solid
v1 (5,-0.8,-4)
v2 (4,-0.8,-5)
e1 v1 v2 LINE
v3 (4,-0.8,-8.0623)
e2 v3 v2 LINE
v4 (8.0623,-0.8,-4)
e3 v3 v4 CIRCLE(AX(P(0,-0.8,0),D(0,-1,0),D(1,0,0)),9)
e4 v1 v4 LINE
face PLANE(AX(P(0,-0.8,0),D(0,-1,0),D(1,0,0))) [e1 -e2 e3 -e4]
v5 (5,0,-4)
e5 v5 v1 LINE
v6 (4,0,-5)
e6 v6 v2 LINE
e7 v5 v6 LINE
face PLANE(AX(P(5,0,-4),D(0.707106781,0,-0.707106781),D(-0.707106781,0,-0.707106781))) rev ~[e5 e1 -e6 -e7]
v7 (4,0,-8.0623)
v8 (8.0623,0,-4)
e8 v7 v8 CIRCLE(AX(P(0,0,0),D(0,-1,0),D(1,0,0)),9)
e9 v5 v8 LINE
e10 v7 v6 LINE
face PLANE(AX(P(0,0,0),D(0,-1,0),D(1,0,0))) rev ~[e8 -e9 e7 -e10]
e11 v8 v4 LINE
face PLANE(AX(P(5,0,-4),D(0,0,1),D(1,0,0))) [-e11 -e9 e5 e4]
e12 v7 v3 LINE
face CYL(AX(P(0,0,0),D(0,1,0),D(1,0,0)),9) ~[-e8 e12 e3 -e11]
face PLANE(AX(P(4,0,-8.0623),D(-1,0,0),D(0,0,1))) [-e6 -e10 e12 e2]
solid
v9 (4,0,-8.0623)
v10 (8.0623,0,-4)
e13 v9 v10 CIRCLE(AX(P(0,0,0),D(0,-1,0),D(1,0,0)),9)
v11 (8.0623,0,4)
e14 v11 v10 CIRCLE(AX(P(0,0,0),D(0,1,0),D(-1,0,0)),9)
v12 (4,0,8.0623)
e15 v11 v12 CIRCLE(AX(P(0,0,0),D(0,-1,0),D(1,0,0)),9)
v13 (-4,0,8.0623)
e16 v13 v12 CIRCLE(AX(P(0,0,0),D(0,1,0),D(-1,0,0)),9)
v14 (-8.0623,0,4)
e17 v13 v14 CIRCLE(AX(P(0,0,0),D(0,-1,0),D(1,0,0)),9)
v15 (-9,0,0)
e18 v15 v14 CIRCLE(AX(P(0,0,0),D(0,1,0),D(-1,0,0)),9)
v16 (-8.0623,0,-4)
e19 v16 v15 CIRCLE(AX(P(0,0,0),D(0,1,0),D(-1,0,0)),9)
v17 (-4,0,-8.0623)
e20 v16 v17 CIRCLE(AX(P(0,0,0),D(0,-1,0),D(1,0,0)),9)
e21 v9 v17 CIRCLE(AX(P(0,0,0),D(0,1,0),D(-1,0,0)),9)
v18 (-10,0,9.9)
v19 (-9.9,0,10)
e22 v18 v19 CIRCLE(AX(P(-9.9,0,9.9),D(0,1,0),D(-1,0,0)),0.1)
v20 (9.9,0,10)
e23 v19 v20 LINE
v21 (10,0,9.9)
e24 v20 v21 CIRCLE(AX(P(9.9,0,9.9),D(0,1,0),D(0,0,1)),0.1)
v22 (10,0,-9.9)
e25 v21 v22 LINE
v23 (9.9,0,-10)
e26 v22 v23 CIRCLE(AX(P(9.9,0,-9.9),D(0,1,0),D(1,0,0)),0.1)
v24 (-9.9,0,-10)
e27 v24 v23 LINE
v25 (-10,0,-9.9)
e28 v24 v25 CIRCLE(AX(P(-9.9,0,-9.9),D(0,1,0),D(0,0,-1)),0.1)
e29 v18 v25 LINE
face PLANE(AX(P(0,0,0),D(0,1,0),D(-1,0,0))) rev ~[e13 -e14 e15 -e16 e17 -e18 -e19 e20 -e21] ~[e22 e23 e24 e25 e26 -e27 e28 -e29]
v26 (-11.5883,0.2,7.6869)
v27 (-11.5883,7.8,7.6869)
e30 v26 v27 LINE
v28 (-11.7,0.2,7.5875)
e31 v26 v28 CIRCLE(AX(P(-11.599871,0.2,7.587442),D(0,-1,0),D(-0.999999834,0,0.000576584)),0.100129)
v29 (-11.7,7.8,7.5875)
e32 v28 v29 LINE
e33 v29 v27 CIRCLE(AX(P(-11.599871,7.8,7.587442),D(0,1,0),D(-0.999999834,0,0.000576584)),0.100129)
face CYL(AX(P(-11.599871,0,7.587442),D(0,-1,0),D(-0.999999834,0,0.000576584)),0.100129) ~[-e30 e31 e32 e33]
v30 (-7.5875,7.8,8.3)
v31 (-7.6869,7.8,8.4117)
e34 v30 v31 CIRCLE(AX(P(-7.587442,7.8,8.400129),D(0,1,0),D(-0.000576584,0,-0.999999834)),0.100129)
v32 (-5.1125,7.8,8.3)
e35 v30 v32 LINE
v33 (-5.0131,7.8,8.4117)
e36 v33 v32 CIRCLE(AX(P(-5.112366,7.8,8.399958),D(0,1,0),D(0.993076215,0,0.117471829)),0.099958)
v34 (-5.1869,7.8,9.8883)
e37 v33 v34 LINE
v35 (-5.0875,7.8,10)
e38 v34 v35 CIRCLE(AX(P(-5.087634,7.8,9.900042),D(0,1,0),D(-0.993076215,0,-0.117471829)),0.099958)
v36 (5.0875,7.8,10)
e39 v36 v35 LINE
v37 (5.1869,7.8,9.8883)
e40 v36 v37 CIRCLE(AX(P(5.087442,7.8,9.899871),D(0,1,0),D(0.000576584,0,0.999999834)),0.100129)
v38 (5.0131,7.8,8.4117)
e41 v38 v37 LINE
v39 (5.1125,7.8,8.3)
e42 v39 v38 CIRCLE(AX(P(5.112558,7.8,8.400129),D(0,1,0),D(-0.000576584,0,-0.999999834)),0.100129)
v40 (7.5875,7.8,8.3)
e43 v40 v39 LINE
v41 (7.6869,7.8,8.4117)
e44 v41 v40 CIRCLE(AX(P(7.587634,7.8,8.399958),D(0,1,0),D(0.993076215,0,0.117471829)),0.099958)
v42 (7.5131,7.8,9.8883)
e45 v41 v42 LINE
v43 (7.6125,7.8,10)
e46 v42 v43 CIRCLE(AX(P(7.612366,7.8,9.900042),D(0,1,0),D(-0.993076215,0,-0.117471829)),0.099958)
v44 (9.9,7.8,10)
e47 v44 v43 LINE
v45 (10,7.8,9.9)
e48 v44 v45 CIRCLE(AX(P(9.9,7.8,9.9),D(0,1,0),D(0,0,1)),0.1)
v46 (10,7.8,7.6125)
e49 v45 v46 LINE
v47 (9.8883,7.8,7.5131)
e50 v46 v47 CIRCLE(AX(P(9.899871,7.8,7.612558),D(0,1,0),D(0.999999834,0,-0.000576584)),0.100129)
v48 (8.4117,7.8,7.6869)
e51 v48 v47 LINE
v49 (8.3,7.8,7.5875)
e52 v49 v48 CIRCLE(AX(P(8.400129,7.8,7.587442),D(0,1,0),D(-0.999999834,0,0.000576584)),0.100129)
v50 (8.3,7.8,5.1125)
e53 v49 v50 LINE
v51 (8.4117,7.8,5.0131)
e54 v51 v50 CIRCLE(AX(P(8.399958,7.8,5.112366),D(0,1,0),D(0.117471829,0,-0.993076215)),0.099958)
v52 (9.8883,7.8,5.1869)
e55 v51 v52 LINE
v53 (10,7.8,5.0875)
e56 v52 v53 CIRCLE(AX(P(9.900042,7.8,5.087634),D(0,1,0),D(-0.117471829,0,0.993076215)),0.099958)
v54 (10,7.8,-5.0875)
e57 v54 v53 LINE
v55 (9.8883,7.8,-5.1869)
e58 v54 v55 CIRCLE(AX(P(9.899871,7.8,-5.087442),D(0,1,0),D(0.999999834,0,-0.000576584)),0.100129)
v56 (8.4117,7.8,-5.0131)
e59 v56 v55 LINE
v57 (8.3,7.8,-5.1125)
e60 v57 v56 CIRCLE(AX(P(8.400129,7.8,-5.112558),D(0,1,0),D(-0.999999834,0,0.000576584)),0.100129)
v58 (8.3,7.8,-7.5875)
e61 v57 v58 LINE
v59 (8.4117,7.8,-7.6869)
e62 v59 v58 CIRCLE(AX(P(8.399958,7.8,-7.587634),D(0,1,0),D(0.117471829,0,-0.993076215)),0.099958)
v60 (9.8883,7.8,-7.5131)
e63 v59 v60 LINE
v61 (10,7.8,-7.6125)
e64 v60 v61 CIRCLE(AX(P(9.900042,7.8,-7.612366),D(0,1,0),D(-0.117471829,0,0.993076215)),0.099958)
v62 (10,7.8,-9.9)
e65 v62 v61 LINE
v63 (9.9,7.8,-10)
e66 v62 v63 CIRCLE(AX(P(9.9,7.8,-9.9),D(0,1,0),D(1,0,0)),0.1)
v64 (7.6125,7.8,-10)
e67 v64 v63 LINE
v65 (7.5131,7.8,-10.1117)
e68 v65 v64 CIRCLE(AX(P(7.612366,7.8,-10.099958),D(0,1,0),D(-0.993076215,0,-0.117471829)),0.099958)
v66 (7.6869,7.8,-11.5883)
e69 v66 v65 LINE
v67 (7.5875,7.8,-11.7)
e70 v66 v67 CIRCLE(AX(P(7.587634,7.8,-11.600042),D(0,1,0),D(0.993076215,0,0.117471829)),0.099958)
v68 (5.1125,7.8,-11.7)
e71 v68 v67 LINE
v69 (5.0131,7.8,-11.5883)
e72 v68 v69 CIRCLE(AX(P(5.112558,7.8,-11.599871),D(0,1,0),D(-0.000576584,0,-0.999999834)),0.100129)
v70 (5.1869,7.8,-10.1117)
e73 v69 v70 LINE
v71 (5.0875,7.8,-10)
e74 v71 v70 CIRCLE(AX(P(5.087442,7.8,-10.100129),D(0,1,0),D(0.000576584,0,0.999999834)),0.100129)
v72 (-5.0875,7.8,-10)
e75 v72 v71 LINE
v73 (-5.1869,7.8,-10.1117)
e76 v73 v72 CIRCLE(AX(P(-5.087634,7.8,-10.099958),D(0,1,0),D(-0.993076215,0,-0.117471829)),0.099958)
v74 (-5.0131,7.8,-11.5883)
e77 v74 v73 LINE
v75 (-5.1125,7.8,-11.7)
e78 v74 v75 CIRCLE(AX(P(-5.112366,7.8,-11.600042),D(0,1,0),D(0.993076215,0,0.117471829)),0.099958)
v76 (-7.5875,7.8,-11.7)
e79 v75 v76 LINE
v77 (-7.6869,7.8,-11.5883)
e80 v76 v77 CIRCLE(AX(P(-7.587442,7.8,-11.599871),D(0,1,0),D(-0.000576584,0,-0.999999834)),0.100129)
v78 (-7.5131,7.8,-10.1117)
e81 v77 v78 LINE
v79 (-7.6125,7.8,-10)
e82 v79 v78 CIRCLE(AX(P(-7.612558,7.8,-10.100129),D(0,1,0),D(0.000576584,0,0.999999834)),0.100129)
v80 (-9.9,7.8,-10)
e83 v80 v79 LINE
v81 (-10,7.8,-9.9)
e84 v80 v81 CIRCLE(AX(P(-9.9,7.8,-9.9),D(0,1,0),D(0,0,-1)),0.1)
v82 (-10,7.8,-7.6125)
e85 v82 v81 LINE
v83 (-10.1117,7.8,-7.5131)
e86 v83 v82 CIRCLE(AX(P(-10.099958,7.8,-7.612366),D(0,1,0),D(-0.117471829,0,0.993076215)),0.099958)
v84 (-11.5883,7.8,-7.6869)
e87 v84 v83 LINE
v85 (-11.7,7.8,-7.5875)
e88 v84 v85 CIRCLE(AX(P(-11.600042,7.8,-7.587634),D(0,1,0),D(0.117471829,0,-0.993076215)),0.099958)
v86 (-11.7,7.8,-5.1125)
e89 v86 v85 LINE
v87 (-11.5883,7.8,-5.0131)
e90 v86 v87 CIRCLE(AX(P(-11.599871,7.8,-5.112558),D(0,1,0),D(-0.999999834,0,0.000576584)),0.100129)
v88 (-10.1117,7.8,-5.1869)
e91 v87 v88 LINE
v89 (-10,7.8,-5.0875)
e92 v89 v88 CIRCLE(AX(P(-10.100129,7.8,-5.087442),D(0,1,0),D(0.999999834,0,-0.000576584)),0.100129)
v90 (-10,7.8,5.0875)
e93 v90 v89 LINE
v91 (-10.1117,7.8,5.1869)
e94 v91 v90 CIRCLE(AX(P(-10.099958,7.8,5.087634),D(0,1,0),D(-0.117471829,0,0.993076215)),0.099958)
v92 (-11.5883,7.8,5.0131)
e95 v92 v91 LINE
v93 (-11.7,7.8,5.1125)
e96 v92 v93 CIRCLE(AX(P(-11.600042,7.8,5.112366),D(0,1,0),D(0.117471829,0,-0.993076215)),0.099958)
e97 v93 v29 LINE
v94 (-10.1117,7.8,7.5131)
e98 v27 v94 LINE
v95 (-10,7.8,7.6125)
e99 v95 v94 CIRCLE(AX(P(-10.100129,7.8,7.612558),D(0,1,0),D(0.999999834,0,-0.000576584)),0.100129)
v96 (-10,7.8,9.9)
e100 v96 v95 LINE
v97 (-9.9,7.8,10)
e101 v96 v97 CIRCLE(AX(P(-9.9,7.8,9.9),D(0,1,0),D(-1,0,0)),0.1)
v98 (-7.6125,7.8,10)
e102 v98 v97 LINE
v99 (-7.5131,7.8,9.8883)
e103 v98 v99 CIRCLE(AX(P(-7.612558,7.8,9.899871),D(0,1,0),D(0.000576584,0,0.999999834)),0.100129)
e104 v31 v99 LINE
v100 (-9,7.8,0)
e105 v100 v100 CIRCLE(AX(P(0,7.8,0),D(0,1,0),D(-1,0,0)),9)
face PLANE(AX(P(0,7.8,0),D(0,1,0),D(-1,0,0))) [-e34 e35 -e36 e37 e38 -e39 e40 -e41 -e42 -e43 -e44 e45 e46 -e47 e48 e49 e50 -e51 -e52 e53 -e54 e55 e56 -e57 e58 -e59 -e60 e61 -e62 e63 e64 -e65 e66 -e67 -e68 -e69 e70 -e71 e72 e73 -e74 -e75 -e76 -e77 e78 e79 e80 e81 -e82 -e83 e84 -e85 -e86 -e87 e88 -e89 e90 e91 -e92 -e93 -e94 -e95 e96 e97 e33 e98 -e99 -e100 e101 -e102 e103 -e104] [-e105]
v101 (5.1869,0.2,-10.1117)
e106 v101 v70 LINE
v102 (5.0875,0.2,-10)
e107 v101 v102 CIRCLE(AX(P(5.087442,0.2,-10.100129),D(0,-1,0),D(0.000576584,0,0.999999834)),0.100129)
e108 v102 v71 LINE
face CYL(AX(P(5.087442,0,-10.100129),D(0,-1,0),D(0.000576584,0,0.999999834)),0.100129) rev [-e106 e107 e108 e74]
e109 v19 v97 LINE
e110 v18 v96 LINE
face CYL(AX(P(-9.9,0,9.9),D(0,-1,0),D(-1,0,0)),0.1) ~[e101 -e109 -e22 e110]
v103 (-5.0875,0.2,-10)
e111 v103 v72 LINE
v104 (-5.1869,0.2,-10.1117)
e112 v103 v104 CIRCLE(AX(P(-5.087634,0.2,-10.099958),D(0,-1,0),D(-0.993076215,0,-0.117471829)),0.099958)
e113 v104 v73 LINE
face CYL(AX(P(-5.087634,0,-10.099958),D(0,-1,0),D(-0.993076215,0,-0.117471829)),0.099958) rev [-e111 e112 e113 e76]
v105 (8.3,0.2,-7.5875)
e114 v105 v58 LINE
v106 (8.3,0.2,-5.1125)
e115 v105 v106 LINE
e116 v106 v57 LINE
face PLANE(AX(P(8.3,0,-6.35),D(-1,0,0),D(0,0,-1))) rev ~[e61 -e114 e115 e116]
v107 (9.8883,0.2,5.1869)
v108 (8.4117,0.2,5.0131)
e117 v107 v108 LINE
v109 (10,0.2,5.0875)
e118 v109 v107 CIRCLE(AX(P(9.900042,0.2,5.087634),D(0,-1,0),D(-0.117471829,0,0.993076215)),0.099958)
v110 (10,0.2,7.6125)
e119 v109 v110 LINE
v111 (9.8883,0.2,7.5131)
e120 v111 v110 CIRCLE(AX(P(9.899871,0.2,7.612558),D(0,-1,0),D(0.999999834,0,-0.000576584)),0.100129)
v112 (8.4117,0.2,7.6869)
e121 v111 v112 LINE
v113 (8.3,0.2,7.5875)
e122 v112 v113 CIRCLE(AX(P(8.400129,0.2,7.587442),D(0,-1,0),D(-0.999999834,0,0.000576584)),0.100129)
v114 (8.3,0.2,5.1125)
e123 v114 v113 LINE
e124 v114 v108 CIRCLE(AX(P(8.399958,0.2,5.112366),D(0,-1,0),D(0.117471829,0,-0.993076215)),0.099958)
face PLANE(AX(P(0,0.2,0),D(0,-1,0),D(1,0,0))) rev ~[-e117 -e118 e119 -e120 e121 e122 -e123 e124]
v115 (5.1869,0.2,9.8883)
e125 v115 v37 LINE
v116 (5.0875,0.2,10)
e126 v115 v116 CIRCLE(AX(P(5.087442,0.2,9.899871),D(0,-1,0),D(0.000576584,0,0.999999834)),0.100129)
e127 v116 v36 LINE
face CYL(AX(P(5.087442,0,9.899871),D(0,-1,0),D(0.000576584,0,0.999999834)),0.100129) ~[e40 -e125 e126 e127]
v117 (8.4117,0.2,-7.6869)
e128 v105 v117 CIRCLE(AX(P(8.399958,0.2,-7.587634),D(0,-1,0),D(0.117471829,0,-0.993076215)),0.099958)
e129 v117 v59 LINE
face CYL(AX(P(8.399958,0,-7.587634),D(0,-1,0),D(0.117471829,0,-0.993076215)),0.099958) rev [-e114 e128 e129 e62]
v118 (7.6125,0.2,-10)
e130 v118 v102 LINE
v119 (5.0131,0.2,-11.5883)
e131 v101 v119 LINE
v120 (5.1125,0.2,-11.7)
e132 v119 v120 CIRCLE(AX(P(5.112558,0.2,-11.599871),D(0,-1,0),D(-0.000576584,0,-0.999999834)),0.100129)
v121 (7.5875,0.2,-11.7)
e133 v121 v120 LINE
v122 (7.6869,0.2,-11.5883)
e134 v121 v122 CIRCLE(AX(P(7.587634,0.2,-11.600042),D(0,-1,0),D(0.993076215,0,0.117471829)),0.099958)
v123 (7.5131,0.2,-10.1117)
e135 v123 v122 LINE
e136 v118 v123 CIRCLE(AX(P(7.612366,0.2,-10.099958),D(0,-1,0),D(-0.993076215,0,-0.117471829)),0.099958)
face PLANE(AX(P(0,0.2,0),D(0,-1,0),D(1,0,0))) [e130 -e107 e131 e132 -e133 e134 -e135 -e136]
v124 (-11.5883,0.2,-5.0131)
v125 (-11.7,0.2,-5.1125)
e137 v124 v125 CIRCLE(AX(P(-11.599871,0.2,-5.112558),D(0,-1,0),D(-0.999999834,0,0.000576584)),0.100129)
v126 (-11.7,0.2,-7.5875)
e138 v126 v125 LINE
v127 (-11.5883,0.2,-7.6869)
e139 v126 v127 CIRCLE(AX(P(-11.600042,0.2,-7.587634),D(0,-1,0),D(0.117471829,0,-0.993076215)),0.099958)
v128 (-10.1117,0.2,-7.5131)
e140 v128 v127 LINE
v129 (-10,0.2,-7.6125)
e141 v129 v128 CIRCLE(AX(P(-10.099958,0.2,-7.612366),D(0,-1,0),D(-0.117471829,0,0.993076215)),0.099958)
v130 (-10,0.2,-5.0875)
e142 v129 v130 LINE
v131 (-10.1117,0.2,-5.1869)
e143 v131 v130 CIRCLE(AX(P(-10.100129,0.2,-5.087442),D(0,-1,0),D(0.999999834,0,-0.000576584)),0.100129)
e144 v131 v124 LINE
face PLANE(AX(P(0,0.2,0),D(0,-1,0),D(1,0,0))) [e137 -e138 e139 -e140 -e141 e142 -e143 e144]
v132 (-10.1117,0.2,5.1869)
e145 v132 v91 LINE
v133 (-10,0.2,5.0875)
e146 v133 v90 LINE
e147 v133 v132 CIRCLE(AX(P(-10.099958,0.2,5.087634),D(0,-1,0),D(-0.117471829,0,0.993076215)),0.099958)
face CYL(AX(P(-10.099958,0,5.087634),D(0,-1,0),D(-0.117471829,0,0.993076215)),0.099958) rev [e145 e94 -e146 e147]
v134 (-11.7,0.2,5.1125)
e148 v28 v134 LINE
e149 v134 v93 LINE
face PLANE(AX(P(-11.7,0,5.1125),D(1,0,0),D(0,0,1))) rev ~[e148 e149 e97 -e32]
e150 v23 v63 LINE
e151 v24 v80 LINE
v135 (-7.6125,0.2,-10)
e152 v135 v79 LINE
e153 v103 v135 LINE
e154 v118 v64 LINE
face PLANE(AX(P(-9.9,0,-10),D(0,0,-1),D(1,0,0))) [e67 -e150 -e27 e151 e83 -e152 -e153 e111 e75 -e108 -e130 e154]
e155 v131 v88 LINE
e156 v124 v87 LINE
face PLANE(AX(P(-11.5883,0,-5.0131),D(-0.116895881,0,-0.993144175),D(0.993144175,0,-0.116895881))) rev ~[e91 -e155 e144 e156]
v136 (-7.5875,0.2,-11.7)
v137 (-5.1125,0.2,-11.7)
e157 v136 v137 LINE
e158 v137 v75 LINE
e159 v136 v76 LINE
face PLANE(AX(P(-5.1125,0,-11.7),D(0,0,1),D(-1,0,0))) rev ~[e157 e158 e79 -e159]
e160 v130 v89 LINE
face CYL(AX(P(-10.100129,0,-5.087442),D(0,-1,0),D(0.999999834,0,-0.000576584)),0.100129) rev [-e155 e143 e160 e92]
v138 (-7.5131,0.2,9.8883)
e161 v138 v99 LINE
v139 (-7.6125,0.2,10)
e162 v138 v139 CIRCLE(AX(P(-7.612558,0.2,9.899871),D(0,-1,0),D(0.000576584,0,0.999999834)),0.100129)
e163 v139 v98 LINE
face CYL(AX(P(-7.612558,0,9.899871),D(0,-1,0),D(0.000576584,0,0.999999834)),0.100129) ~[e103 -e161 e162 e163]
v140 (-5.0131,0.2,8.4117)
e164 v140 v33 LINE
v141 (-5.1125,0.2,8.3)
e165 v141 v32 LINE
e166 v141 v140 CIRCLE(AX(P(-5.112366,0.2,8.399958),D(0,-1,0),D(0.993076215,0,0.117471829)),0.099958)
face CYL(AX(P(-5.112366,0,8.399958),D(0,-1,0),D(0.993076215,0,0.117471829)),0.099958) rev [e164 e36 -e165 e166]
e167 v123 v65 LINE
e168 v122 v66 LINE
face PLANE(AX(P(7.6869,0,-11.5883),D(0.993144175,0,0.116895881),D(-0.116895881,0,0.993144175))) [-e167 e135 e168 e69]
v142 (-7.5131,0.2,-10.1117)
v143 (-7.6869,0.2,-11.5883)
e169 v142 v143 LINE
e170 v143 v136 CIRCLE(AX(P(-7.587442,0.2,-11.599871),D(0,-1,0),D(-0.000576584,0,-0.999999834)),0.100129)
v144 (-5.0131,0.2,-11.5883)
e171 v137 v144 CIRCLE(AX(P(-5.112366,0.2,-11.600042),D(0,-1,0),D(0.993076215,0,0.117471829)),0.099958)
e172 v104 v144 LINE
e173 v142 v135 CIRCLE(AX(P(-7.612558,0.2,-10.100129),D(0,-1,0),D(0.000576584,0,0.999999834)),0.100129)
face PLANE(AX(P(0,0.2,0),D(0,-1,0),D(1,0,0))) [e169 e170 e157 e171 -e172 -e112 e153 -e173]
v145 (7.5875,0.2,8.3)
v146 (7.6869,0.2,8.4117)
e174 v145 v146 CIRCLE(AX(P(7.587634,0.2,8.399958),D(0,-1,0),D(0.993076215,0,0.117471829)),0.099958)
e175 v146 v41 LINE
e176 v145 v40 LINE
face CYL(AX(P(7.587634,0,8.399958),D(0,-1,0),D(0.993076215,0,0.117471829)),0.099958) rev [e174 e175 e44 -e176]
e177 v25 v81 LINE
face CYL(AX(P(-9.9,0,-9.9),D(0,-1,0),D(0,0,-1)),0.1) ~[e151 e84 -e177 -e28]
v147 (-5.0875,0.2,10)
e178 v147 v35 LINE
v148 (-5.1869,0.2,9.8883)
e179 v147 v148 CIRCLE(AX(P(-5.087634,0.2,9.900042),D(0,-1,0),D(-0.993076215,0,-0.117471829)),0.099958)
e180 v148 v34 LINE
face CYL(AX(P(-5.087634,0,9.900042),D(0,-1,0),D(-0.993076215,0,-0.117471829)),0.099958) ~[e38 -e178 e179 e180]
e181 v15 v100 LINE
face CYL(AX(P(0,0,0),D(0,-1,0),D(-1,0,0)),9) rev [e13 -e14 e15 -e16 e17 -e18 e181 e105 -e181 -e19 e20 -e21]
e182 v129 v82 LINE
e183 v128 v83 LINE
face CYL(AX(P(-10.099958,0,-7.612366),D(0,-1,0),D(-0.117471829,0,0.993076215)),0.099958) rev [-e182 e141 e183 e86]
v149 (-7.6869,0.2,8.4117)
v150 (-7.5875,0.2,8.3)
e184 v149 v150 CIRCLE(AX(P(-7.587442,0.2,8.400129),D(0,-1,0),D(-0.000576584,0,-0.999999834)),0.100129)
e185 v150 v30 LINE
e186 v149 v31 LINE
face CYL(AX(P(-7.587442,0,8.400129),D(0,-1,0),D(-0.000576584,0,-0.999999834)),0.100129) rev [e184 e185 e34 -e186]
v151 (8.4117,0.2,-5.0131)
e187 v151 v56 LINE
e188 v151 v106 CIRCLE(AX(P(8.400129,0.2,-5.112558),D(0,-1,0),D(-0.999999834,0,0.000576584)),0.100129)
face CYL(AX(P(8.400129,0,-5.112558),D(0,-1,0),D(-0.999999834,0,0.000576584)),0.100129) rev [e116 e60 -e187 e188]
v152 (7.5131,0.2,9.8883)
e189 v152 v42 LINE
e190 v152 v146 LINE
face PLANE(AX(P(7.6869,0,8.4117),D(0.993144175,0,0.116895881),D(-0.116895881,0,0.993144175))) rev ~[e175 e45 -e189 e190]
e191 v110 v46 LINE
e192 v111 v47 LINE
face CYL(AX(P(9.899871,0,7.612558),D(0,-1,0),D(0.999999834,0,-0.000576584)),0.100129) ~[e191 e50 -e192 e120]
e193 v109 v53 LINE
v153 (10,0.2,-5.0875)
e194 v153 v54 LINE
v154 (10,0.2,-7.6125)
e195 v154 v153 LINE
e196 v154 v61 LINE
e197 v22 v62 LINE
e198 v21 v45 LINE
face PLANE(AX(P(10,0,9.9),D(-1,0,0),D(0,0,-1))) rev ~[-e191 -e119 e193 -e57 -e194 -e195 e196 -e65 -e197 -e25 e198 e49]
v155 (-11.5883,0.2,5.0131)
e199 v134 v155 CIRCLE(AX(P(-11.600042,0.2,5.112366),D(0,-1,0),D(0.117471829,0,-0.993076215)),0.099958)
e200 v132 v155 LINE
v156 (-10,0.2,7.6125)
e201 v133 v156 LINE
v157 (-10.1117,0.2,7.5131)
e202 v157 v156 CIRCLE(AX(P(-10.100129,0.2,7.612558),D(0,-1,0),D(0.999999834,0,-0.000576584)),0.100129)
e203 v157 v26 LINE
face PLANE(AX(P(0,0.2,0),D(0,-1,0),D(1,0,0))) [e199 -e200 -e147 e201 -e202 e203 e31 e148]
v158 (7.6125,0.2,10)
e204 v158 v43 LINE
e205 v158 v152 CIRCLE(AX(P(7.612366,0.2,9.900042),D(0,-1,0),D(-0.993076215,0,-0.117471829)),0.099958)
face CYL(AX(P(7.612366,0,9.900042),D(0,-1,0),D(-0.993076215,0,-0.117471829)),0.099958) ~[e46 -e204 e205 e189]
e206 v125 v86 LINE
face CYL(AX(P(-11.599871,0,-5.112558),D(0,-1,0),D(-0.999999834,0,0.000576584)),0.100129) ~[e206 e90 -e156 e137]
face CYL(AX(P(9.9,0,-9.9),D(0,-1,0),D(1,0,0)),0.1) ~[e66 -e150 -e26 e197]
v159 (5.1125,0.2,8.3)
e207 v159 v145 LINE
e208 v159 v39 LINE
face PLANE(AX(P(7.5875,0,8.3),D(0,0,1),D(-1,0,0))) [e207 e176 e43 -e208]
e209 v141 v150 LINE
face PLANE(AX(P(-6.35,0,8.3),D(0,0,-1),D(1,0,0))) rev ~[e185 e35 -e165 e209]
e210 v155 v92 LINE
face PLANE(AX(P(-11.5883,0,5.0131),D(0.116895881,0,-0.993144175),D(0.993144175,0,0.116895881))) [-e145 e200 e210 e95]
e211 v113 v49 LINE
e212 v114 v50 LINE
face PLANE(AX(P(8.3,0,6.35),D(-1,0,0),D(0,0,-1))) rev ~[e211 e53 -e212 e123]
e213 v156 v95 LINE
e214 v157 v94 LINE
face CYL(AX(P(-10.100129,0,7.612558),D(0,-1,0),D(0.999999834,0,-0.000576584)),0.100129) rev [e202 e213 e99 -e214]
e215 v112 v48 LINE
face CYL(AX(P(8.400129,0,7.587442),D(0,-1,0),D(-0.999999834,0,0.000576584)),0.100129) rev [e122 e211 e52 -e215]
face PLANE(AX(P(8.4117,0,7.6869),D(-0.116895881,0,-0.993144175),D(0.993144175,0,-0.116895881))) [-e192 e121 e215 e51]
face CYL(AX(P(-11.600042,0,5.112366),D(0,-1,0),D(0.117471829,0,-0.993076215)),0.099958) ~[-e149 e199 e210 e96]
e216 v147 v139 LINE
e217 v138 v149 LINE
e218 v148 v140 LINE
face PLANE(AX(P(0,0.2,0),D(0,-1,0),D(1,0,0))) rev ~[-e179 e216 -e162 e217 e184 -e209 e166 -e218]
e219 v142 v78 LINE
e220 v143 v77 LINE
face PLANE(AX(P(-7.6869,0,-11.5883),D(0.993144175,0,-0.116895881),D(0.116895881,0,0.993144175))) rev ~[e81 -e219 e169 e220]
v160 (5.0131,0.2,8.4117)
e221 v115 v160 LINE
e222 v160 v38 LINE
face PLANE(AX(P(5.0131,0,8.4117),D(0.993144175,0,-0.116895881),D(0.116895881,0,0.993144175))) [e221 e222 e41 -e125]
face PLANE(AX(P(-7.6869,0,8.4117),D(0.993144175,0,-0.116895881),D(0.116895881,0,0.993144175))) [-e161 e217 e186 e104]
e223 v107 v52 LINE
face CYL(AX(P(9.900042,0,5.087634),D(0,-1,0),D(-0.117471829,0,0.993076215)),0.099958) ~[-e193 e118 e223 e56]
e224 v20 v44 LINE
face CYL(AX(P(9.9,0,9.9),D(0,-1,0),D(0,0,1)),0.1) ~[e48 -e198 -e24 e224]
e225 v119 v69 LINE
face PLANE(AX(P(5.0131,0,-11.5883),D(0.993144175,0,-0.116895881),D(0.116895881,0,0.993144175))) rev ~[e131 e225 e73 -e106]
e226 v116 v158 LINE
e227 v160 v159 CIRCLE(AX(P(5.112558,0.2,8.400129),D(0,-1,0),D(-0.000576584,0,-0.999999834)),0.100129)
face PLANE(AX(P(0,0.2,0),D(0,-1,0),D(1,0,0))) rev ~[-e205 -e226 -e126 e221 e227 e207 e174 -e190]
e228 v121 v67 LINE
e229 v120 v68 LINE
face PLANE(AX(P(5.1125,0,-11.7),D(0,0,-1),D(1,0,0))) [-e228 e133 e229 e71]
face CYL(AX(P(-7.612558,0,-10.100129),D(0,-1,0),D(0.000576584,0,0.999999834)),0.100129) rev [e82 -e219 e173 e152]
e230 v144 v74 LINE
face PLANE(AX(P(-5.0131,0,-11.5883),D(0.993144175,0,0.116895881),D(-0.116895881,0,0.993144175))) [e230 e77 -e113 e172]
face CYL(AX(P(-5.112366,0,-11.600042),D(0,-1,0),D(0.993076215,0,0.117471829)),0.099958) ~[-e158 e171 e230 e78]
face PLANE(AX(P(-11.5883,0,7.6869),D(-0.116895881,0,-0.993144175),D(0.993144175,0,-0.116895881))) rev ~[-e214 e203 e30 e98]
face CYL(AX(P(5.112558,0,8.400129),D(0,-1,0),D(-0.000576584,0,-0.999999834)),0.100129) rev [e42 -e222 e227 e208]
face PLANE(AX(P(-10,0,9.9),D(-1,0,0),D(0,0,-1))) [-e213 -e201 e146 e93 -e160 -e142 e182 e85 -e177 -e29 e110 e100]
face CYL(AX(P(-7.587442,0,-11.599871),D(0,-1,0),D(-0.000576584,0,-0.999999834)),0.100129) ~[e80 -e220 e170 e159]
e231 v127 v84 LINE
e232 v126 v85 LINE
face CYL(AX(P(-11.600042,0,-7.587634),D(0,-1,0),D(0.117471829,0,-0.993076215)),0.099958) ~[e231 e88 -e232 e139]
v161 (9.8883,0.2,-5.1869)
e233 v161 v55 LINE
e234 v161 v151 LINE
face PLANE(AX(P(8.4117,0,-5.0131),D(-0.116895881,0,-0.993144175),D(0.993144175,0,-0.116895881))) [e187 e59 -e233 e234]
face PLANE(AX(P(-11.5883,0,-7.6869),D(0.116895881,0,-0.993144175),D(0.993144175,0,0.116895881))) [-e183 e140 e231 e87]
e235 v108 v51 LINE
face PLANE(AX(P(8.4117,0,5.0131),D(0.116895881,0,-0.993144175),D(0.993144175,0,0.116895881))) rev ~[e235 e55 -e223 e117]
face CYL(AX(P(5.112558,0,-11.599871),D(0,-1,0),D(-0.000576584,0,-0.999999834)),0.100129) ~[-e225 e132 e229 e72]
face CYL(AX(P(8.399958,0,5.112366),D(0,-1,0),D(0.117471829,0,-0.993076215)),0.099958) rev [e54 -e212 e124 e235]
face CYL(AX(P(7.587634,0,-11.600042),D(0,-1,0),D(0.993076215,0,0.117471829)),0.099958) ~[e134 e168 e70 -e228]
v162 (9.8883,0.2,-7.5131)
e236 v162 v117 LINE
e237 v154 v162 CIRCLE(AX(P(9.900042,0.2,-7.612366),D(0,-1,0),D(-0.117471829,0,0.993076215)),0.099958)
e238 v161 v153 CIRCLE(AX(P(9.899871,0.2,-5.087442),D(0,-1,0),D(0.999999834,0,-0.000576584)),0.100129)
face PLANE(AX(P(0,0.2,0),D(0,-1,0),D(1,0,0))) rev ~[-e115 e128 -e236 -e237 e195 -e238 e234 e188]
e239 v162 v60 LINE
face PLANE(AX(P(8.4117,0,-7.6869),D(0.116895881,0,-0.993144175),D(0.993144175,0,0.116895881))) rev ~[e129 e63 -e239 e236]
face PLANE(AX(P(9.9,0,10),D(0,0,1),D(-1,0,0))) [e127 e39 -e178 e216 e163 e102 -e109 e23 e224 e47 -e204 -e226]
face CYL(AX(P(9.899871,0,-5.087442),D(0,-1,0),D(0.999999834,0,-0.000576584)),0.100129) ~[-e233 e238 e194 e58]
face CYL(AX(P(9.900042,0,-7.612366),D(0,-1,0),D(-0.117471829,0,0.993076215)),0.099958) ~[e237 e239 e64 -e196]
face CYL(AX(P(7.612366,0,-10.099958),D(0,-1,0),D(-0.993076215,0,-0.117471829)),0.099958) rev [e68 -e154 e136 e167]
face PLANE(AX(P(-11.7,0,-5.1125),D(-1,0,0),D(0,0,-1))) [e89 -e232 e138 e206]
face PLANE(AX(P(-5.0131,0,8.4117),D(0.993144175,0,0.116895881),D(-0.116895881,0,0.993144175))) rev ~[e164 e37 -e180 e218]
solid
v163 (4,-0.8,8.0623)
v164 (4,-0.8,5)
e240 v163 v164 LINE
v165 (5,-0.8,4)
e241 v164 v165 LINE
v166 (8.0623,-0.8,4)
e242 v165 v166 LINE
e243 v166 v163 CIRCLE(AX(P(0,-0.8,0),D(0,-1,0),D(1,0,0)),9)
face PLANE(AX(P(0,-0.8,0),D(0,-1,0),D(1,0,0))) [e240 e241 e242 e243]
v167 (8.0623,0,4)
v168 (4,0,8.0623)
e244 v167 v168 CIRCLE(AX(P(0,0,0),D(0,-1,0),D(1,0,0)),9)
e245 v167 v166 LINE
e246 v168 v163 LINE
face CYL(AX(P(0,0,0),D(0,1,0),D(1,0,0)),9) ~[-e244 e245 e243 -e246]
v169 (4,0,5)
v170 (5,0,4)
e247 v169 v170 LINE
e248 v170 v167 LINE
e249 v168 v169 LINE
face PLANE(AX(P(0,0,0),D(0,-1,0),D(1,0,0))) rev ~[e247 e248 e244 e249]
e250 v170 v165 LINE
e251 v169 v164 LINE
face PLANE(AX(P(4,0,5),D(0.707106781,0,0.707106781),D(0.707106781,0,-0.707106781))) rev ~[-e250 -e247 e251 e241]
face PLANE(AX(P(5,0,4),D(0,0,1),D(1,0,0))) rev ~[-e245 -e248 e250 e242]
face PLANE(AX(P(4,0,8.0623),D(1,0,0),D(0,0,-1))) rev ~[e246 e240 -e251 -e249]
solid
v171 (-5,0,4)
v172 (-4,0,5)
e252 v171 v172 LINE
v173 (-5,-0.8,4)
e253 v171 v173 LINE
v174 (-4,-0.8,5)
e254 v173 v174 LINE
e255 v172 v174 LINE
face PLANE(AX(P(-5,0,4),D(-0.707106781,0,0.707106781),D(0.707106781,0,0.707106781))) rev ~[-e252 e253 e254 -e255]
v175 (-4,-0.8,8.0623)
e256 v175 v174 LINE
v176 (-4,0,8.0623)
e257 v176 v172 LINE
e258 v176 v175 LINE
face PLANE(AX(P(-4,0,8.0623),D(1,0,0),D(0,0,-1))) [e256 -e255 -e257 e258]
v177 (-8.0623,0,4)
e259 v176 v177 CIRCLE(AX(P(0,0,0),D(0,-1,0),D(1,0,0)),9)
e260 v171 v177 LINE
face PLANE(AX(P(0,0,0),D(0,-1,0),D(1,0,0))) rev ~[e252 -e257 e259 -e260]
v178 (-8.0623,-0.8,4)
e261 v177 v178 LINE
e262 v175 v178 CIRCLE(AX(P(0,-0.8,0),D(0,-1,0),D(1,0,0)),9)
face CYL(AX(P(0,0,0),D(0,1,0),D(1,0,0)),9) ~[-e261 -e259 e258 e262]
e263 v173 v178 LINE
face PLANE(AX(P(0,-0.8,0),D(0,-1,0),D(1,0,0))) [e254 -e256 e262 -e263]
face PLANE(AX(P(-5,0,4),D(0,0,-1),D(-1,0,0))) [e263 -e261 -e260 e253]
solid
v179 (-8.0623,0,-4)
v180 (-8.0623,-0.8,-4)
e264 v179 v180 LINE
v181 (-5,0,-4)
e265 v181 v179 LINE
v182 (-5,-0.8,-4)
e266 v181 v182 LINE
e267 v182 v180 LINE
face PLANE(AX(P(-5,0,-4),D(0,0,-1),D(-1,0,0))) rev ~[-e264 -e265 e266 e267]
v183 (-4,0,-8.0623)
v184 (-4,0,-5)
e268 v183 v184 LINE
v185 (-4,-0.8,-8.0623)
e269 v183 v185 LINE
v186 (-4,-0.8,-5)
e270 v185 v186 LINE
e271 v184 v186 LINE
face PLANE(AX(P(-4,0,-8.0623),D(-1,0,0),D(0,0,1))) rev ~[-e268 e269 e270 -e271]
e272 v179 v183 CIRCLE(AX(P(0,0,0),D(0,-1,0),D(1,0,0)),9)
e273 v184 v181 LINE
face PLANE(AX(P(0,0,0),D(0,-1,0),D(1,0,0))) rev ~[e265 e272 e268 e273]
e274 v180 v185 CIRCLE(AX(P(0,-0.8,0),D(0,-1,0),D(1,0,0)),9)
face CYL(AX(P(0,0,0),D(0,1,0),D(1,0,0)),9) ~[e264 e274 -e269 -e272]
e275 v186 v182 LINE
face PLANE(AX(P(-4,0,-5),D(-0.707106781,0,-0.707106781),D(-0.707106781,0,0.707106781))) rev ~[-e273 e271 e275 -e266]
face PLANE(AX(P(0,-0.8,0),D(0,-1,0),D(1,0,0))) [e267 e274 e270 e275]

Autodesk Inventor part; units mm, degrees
ref_plane "YZ Plane" through (0, 0, 0) normal (1, 0, 0) x (0, 1, 0)
ref_plane "XZ Plane" through (0, 0, 0) normal (0, 1, 0) x (-1, 0, 0)
ref_plane "XY Plane" through (0, 0, 0) normal (0, 0, 1) x (1, 0, 0)
sketch "Boceto1" plane through (0, 0, 0) normal (0, 1, 0) x (-1, 0, 0)
  circle A0 centre (0, 0) radius 9
  line L0 (0, 0) -> (10, -10) construction
  line L1 (10, 10) -> (-10, -10) construction
  line L2 (-10, 9.9) -> (-10, 7.6125)
  line L3 (-8.3, 6.35) -> (-8.3, 5.1125)
  line L4 (-8.4117, 7.6869) -> (-9.8883, 7.5131)
  line L5 (-8.4117, 5.0131) -> (-9.8883, 5.1869)
  line L6 (-8.3, -6.35) -> (-8.3, -5.1125)
  line L7 (-8.4117, -7.6869) -> (-9.8883, -7.5131)
  line L8 (-8.4117, -5.0131) -> (-9.8883, -5.1869)
  line L9 (-7.6869, 8.4117) -> (-7.5131, 9.8883)
  line L10 (-5.0131, 8.4117) -> (-5.1869, 9.8883)
  line L11 (5.0131, 8.4117) -> (5.1869, 9.8883)
  line L12 (6.35, 8.3) -> (5.1125, 8.3)
  line L13 (7.6869, 8.4117) -> (7.5131, 9.8883)
  line L14 (-5.0131, -11.5883) -> (-5.1869, -10.1117)
  line L15 (-7.6869, -11.5883) -> (-7.5131, -10.1117)
  line L16 (-5.1125, -11.7) -> (-7.5875, -11.7)
  line L17 (7.6869, -11.5883) -> (7.5131, -10.1117)
  line L18 (5.1125, -11.7) -> (7.5875, -11.7)
  line L19 (5.0131, -11.5883) -> (5.1869, -10.1117)
  line L20 (11.5883, -5.0131) -> (10.1117, -5.1869)
  line L21 (11.7, -5.1125) -> (11.7, -7.5875)
  line L22 (11.5883, -7.6869) -> (10.1117, -7.5131)
  line L23 (11.5883, 7.6869) -> (10.1117, 7.5131)
  line L24 (11.5883, 5.0131) -> (10.1117, 5.1869)
  line L25 (11.7, 5.1125) -> (11.7, 7.5875)
  line L26 (10, 9.9) -> (10, 7.6125)
  arc A1 (11.7, 7.5875) -> (11.5883, 7.6869) centre (11.6, 7.5875) ccw
  arc A2 (11.5883, 5.0131) -> (11.7, 5.1125) centre (11.6, 5.1125) ccw
  arc A3 (10, 7.6125) -> (10.1117, 7.5131) centre (10.1, 7.6125) ccw
  arc A4 (10.1117, 5.1869) -> (10, 5.0875) centre (10.1, 5.0875) ccw
  line L27 (10, 5.0875) -> (10, -5.0875)
  line L28 (10, -7.6125) -> (10, -9.9)
  arc A5 (10, -5.0875) -> (10.1117, -5.1869) centre (10.1, -5.0875) ccw
  arc A6 (11.7, -5.1125) -> (11.5883, -5.0131) centre (11.6, -5.1125) ccw
  arc A7 (11.5883, -7.6869) -> (11.7, -7.5875) centre (11.6, -7.5875) ccw
  arc A8 (10.1117, -7.5131) -> (10, -7.6125) centre (10.1, -7.6125) ccw
  line L29 (9.9, -10) -> (7.6125, -10)
  line L30 (5.0875, -10) -> (-5.0875, -10)
  line L31 (-7.6125, -10) -> (-9.9, -10)
  arc A9 (5.1869, -10.1117) -> (5.0875, -10) centre (5.0875, -10.1) ccw
  arc A10 (5.0131, -11.5883) -> (5.1125, -11.7) centre (5.1125, -11.6) ccw
  arc A11 (7.5875, -11.7) -> (7.6869, -11.5883) centre (7.5875, -11.6) ccw
  arc A12 (7.6125, -10) -> (7.5131, -10.1117) centre (7.6125, -10.1) ccw
  arc A13 (-5.0875, -10) -> (-5.1869, -10.1117) centre (-5.0875, -10.1) ccw
  arc A14 (-5.1125, -11.7) -> (-5.0131, -11.5883) centre (-5.1125, -11.6) ccw
  arc A15 (-7.6869, -11.5883) -> (-7.5875, -11.7) centre (-7.5875, -11.6) ccw
  arc A16 (-7.5131, -10.1117) -> (-7.6125, -10) centre (-7.6125, -10.1) ccw
  line L32 (-10, -9.9) -> (-10, -7.6125)
  arc A17 (-10, -5.0875) -> (-9.8883, -5.1869) centre (-9.9, -5.0875) ccw
  arc A18 (-8.3, -5.1125) -> (-8.4117, -5.0131) centre (-8.4, -5.1125) ccw
  arc A19 (-8.4117, -7.6869) -> (-8.3, -7.5875) centre (-8.4, -7.5875) ccw
  arc A20 (-9.8883, -7.5131) -> (-10, -7.6125) centre (-9.9, -7.6125) ccw
  line L33 (-8.3, -6.35) -> (-8.3, -7.5875)
  line L34 (7.6125, 10) -> (9.9, 10)
  arc A21 (7.6125, 10) -> (7.5131, 9.8883) centre (7.6125, 9.9) ccw
  arc A22 (7.5875, 8.3) -> (7.6869, 8.4117) centre (7.5875, 8.4) ccw
  arc A23 (5.0131, 8.4117) -> (5.1125, 8.3) centre (5.1125, 8.4) ccw
  line L35 (6.35, 8.3) -> (7.5875, 8.3)
  line L36 (-9.9, 10) -> (-7.6125, 10)
  line L37 (-5.0875, 10) -> (5.0875, 10)
  line L38 (-7.5875, 8.3) -> (-5.1125, 8.3)
  arc A24 (-5.0875, 10) -> (-5.1869, 9.8883) centre (-5.0875, 9.9) ccw
  arc A25 (-5.1125, 8.3) -> (-5.0131, 8.4117) centre (-5.1125, 8.4) ccw
  arc A26 (-7.5131, 9.8883) -> (-7.6125, 10) centre (-7.6125, 9.9) ccw
  arc A27 (-7.6869, 8.4117) -> (-7.5875, 8.3) centre (-7.5875, 8.4) ccw
  line L39 (-10, -5.0875) -> (-10, 5.0875)
  line L40 (-10, 7.5) -> (-10, 10)
  line L41 (-8.3, 7.3529) -> (-8.3, 7.5875)
  line L42 (-8.3, 7.3529) -> (-8.3, 6.35)
  arc A28 (-8.3, 7.5875) -> (-8.4117, 7.6869) centre (-8.4, 7.5875) ccw
  arc A29 (-10, 7.6125) -> (-9.8883, 7.5131) centre (-9.9, 7.6125) ccw
  arc A30 (-9.8883, 5.1869) -> (-10, 5.0875) centre (-9.9, 5.0875) ccw
  arc A31 (-8.4117, 5.0131) -> (-8.3, 5.1125) centre (-8.4, 5.1125) ccw
  arc A32 (10, 9.9) -> (9.9, 10) centre (9.9, 9.9) ccw
  arc A33 (9.9, -10) -> (10, -9.9) centre (9.9, -9.9) ccw
  arc A34 (-10, -9.9) -> (-9.9, -10) centre (-9.9, -9.9) ccw
  arc A35 (-9.9, 10) -> (-10, 9.9) centre (-9.9, 9.9) ccw
  arc A36 (5.1869, 9.8883) -> (5.0875, 10) centre (5.0875, 9.9) ccw
  point P0 (0, 0)
  point P1 (-10, 5.2)
  point P2 (-8.3, 7.7)
  point P3 (-10, -5.2)
  point P4 (-10, -7.5)
  point P5 (-8.3, -7.7)
  point P6 (5.2, 10)
  point P7 (7.7, 8.3)
  point P8 (-7.5, -10)
  point P9 (7.5, -10)
  point P10 (5.2, -10)
  point P11 (7.7, -11.7)
  point P12 (5, -11.7)
  point P13 (11.7, -5)
  point P14 (10, -5.2)
  point P15 (11.7, -7.7)
  point P16 (10, -7.5)
  point P17 (-5.2, -10)
  dimension "d0" = 18
  dimension "d1" = 20
  dimension "d2" = 20
  dimension "d3" = 2.5
  dimension "d4" = 2.3
  dimension "d8" = 0.1
  dimension "d9" = 0.1
  dimension "d10" = 0.1
  dimension "d11" = 0.1
  dimension "d12" = 0.1
  dimension "d13" = 0.1
  dimension "d14" = 0.1
  dimension "d15" = 0.1
  dimension "d16" = 0.1
  dimension "d17" = 0.1
  dimension "d18" = 0.1
  dimension "d19" = 0.1
  dimension "d43" = 0.1
extrude "Extrusión1" add sketch "Boceto1" along normal blind 7.8
sketch "Boceto2" plane through (0, 0, 0) normal (0, -1, 0) x (1, 0, 0)
  line L0 (5.1125, 8.3) -> (7.5875, 8.3) projected
  line L1 (6.35, 8.3) -> (7.7, 8.3)
  line L2 (6.35, 8.3) -> (5, 8.3)
  line L3 (6.35, 8.3) -> (6.35, 10)
  line L4 (6.35, 10) -> (7.7, 10)
  line L5 (7.6125, 10) -> (9.9, 10) projected
  line L6 (7.7, 8.3) -> (7.7, 10)
  line L7 (5, 8.3) -> (5, 10)
  line L8 (5, 10) -> (6.35, 10)
  point P0 (0, 0)
  dimension "d22" = 1.35
  dimension "d23" = 1.35
  dimension "d24" = 1.7
extrude "Extrusión2" add sketch "Boceto2" against normal blind 0.2
sketch "Boceto3" plane through (0, 0, 0) normal (0, -1, 0) x (1, 0, 0)
  line L0 (-9.9, 10) -> (-7.6125, 10) projected
  line L1 (-8.0303, 10) -> (-4.8001, 10)
  line L2 (-4.8001, 10) -> (-4.8001, 8.1465)
  line L3 (-4.8001, 8.1465) -> (-8.0303, 8.1465)
  line L4 (-8.0303, 8.1465) -> (-8.0303, 10)
  line L5 (10, 9.9) -> (10, 7.6125) projected
  line L6 (10, 8.1465) -> (8.0988, 8.1465)
  line L7 (8.0988, 8.1465) -> (8.0988, 4.6857)
  line L8 (8.0988, 4.6857) -> (10, 4.6857)
  line L9 (10, 4.6857) -> (10, 8.1465)
  line L10 (10, 5.0875) -> (10, -5.0875) projected
  line L11 (10, -4.5899) -> (8.0988, -4.5899)
  line L12 (8.0988, -4.5899) -> (8.0988, -8.0513)
  line L13 (8.0988, -8.0513) -> (10, -8.0513)
  line L14 (10, -8.0513) -> (10, -4.5899)
  point P0 (0, 0)
extrude "Extrusión3" add sketch "Boceto3" against normal blind 0.2
sketch "Boceto4" plane through (0, 0, 0) normal (0, -1, 0) x (1, 0, 0)
  line L0 (9.9, -10) -> (7.6125, -10) projected
  line L1 (8.0587, -10) -> (4.5937, -10)
  line L2 (4.5937, -10) -> (4.5937, -11.8621)
  line L3 (4.5937, -11.8621) -> (8.0587, -11.8621)
  line L4 (8.0587, -11.8621) -> (8.0587, -10)
  line L5 (5.0875, -10) -> (-5.0875, -10) projected
  line L6 (-4.2911, -10) -> (-8.2093, -10)
  line L7 (-8.2093, -10) -> (-8.2093, -11.8621)
  line L8 (-8.2093, -11.8621) -> (-4.2911, -11.8621)
  line L9 (-4.2911, -11.8621) -> (-4.2911, -10)
  line L10 (-10, -9.9) -> (-10, -7.6125) projected
  line L11 (-10, -8.4914) -> (-12.1328, -8.4914)
  line L12 (-12.1328, -8.4914) -> (-12.1328, -3.8938)
  line L13 (-12.1328, -3.8938) -> (-10, -3.8938)
  line L14 (-10, -3.8938) -> (-10, -8.4914)
  line L15 (-10, 7.6125) -> (-10, 9.9) projected
  line L16 (-10, 8.328) -> (-12.1328, 8.328)
  line L17 (-12.1328, 8.328) -> (-12.1328, 4.1194)
  line L18 (-12.1328, 4.1194) -> (-10, 4.1194)
  line L19 (-10, 4.1194) -> (-10, 8.328)
  point P0 (0, 0)
extrude "Extrusión4" cut sketch "Boceto4" against normal blind 0.2
sketch "Boceto5" plane through (0, 0, 0) normal (0, -1, 0) x (1, 0, 0)
  circle A0 centre (0, 0) radius 9 projected
  line L0 (-4, -8.0623) -> (-4, -5)
  line L1 (-5, -4) -> (-8.0623, -4)
  line L2 (-4, 8.0623) -> (-4, 5)
  line L3 (-5, 4) -> (-8.0623, 4)
  line L4 (4, -8.0623) -> (4, -5)
  line L5 (5, -4) -> (8.0623, -4)
  line L6 (4, 8.0623) -> (4, 5)
  line L7 (5, 4) -> (8.0623, 4)
  line L8 (-4, -5) -> (-5, -4)
  line L9 (-5, 4) -> (-4, 5)
  line L10 (4, 5) -> (5, 4)
  line L11 (5, -4) -> (4, -5)
  arc A1 (4, -8.0623) -> (8.0623, -4) centre (0, 0) ccw
  arc A2 (8.0623, 4) -> (4, 8.0623) centre (0, 0) ccw
  arc A3 (-4, 8.0623) -> (-8.0623, 4) centre (0, 0) ccw
  arc A4 (-8.0623, -4) -> (-4, -8.0623) centre (0, 0) ccw
  point P0 (0, -9)
  point P1 (-4, -4)
  point P2 (-4, -10)
  point P3 (-10, -4)
  point P4 (-9, 0)
  point P5 (-4, 4)
  point P6 (-4, 10)
  point P7 (-10, 4)
  point P8 (4, -4)
  point P9 (4, -10)
  point P10 (10, -4)
  point P11 (4, 10)
  point P12 (4, 4)
  point P13 (10, 4)
  dimension "d31" = 6
  dimension "d32" = 6
  dimension "d33" = 1
  dimension "d34" = 1
  dimension "d35" = 1
  dimension "d36" = 1
  dimension "d37" = 1
  dimension "d38" = 1
  dimension "d39" = 1
  dimension "d40" = 1
extrude "Extrusión5" add sketch "Boceto5" along normal blind 0.8 contours L7 L10 L6 A0 | A0 L4 L11 L5 | L2 L9 L3 A0 | A0 L1 L8 L0
equation "\"d34\" = d33"
equation "\"d35\" = d33"
equation "\"d36\" = d35"
equation "\"d37\" = d33"
equation "\"d38\" = d37"
equation "\"d39\" = d33"
equation "\"d40\" = d39"
properties part number "Base_18650" material "Goma"
